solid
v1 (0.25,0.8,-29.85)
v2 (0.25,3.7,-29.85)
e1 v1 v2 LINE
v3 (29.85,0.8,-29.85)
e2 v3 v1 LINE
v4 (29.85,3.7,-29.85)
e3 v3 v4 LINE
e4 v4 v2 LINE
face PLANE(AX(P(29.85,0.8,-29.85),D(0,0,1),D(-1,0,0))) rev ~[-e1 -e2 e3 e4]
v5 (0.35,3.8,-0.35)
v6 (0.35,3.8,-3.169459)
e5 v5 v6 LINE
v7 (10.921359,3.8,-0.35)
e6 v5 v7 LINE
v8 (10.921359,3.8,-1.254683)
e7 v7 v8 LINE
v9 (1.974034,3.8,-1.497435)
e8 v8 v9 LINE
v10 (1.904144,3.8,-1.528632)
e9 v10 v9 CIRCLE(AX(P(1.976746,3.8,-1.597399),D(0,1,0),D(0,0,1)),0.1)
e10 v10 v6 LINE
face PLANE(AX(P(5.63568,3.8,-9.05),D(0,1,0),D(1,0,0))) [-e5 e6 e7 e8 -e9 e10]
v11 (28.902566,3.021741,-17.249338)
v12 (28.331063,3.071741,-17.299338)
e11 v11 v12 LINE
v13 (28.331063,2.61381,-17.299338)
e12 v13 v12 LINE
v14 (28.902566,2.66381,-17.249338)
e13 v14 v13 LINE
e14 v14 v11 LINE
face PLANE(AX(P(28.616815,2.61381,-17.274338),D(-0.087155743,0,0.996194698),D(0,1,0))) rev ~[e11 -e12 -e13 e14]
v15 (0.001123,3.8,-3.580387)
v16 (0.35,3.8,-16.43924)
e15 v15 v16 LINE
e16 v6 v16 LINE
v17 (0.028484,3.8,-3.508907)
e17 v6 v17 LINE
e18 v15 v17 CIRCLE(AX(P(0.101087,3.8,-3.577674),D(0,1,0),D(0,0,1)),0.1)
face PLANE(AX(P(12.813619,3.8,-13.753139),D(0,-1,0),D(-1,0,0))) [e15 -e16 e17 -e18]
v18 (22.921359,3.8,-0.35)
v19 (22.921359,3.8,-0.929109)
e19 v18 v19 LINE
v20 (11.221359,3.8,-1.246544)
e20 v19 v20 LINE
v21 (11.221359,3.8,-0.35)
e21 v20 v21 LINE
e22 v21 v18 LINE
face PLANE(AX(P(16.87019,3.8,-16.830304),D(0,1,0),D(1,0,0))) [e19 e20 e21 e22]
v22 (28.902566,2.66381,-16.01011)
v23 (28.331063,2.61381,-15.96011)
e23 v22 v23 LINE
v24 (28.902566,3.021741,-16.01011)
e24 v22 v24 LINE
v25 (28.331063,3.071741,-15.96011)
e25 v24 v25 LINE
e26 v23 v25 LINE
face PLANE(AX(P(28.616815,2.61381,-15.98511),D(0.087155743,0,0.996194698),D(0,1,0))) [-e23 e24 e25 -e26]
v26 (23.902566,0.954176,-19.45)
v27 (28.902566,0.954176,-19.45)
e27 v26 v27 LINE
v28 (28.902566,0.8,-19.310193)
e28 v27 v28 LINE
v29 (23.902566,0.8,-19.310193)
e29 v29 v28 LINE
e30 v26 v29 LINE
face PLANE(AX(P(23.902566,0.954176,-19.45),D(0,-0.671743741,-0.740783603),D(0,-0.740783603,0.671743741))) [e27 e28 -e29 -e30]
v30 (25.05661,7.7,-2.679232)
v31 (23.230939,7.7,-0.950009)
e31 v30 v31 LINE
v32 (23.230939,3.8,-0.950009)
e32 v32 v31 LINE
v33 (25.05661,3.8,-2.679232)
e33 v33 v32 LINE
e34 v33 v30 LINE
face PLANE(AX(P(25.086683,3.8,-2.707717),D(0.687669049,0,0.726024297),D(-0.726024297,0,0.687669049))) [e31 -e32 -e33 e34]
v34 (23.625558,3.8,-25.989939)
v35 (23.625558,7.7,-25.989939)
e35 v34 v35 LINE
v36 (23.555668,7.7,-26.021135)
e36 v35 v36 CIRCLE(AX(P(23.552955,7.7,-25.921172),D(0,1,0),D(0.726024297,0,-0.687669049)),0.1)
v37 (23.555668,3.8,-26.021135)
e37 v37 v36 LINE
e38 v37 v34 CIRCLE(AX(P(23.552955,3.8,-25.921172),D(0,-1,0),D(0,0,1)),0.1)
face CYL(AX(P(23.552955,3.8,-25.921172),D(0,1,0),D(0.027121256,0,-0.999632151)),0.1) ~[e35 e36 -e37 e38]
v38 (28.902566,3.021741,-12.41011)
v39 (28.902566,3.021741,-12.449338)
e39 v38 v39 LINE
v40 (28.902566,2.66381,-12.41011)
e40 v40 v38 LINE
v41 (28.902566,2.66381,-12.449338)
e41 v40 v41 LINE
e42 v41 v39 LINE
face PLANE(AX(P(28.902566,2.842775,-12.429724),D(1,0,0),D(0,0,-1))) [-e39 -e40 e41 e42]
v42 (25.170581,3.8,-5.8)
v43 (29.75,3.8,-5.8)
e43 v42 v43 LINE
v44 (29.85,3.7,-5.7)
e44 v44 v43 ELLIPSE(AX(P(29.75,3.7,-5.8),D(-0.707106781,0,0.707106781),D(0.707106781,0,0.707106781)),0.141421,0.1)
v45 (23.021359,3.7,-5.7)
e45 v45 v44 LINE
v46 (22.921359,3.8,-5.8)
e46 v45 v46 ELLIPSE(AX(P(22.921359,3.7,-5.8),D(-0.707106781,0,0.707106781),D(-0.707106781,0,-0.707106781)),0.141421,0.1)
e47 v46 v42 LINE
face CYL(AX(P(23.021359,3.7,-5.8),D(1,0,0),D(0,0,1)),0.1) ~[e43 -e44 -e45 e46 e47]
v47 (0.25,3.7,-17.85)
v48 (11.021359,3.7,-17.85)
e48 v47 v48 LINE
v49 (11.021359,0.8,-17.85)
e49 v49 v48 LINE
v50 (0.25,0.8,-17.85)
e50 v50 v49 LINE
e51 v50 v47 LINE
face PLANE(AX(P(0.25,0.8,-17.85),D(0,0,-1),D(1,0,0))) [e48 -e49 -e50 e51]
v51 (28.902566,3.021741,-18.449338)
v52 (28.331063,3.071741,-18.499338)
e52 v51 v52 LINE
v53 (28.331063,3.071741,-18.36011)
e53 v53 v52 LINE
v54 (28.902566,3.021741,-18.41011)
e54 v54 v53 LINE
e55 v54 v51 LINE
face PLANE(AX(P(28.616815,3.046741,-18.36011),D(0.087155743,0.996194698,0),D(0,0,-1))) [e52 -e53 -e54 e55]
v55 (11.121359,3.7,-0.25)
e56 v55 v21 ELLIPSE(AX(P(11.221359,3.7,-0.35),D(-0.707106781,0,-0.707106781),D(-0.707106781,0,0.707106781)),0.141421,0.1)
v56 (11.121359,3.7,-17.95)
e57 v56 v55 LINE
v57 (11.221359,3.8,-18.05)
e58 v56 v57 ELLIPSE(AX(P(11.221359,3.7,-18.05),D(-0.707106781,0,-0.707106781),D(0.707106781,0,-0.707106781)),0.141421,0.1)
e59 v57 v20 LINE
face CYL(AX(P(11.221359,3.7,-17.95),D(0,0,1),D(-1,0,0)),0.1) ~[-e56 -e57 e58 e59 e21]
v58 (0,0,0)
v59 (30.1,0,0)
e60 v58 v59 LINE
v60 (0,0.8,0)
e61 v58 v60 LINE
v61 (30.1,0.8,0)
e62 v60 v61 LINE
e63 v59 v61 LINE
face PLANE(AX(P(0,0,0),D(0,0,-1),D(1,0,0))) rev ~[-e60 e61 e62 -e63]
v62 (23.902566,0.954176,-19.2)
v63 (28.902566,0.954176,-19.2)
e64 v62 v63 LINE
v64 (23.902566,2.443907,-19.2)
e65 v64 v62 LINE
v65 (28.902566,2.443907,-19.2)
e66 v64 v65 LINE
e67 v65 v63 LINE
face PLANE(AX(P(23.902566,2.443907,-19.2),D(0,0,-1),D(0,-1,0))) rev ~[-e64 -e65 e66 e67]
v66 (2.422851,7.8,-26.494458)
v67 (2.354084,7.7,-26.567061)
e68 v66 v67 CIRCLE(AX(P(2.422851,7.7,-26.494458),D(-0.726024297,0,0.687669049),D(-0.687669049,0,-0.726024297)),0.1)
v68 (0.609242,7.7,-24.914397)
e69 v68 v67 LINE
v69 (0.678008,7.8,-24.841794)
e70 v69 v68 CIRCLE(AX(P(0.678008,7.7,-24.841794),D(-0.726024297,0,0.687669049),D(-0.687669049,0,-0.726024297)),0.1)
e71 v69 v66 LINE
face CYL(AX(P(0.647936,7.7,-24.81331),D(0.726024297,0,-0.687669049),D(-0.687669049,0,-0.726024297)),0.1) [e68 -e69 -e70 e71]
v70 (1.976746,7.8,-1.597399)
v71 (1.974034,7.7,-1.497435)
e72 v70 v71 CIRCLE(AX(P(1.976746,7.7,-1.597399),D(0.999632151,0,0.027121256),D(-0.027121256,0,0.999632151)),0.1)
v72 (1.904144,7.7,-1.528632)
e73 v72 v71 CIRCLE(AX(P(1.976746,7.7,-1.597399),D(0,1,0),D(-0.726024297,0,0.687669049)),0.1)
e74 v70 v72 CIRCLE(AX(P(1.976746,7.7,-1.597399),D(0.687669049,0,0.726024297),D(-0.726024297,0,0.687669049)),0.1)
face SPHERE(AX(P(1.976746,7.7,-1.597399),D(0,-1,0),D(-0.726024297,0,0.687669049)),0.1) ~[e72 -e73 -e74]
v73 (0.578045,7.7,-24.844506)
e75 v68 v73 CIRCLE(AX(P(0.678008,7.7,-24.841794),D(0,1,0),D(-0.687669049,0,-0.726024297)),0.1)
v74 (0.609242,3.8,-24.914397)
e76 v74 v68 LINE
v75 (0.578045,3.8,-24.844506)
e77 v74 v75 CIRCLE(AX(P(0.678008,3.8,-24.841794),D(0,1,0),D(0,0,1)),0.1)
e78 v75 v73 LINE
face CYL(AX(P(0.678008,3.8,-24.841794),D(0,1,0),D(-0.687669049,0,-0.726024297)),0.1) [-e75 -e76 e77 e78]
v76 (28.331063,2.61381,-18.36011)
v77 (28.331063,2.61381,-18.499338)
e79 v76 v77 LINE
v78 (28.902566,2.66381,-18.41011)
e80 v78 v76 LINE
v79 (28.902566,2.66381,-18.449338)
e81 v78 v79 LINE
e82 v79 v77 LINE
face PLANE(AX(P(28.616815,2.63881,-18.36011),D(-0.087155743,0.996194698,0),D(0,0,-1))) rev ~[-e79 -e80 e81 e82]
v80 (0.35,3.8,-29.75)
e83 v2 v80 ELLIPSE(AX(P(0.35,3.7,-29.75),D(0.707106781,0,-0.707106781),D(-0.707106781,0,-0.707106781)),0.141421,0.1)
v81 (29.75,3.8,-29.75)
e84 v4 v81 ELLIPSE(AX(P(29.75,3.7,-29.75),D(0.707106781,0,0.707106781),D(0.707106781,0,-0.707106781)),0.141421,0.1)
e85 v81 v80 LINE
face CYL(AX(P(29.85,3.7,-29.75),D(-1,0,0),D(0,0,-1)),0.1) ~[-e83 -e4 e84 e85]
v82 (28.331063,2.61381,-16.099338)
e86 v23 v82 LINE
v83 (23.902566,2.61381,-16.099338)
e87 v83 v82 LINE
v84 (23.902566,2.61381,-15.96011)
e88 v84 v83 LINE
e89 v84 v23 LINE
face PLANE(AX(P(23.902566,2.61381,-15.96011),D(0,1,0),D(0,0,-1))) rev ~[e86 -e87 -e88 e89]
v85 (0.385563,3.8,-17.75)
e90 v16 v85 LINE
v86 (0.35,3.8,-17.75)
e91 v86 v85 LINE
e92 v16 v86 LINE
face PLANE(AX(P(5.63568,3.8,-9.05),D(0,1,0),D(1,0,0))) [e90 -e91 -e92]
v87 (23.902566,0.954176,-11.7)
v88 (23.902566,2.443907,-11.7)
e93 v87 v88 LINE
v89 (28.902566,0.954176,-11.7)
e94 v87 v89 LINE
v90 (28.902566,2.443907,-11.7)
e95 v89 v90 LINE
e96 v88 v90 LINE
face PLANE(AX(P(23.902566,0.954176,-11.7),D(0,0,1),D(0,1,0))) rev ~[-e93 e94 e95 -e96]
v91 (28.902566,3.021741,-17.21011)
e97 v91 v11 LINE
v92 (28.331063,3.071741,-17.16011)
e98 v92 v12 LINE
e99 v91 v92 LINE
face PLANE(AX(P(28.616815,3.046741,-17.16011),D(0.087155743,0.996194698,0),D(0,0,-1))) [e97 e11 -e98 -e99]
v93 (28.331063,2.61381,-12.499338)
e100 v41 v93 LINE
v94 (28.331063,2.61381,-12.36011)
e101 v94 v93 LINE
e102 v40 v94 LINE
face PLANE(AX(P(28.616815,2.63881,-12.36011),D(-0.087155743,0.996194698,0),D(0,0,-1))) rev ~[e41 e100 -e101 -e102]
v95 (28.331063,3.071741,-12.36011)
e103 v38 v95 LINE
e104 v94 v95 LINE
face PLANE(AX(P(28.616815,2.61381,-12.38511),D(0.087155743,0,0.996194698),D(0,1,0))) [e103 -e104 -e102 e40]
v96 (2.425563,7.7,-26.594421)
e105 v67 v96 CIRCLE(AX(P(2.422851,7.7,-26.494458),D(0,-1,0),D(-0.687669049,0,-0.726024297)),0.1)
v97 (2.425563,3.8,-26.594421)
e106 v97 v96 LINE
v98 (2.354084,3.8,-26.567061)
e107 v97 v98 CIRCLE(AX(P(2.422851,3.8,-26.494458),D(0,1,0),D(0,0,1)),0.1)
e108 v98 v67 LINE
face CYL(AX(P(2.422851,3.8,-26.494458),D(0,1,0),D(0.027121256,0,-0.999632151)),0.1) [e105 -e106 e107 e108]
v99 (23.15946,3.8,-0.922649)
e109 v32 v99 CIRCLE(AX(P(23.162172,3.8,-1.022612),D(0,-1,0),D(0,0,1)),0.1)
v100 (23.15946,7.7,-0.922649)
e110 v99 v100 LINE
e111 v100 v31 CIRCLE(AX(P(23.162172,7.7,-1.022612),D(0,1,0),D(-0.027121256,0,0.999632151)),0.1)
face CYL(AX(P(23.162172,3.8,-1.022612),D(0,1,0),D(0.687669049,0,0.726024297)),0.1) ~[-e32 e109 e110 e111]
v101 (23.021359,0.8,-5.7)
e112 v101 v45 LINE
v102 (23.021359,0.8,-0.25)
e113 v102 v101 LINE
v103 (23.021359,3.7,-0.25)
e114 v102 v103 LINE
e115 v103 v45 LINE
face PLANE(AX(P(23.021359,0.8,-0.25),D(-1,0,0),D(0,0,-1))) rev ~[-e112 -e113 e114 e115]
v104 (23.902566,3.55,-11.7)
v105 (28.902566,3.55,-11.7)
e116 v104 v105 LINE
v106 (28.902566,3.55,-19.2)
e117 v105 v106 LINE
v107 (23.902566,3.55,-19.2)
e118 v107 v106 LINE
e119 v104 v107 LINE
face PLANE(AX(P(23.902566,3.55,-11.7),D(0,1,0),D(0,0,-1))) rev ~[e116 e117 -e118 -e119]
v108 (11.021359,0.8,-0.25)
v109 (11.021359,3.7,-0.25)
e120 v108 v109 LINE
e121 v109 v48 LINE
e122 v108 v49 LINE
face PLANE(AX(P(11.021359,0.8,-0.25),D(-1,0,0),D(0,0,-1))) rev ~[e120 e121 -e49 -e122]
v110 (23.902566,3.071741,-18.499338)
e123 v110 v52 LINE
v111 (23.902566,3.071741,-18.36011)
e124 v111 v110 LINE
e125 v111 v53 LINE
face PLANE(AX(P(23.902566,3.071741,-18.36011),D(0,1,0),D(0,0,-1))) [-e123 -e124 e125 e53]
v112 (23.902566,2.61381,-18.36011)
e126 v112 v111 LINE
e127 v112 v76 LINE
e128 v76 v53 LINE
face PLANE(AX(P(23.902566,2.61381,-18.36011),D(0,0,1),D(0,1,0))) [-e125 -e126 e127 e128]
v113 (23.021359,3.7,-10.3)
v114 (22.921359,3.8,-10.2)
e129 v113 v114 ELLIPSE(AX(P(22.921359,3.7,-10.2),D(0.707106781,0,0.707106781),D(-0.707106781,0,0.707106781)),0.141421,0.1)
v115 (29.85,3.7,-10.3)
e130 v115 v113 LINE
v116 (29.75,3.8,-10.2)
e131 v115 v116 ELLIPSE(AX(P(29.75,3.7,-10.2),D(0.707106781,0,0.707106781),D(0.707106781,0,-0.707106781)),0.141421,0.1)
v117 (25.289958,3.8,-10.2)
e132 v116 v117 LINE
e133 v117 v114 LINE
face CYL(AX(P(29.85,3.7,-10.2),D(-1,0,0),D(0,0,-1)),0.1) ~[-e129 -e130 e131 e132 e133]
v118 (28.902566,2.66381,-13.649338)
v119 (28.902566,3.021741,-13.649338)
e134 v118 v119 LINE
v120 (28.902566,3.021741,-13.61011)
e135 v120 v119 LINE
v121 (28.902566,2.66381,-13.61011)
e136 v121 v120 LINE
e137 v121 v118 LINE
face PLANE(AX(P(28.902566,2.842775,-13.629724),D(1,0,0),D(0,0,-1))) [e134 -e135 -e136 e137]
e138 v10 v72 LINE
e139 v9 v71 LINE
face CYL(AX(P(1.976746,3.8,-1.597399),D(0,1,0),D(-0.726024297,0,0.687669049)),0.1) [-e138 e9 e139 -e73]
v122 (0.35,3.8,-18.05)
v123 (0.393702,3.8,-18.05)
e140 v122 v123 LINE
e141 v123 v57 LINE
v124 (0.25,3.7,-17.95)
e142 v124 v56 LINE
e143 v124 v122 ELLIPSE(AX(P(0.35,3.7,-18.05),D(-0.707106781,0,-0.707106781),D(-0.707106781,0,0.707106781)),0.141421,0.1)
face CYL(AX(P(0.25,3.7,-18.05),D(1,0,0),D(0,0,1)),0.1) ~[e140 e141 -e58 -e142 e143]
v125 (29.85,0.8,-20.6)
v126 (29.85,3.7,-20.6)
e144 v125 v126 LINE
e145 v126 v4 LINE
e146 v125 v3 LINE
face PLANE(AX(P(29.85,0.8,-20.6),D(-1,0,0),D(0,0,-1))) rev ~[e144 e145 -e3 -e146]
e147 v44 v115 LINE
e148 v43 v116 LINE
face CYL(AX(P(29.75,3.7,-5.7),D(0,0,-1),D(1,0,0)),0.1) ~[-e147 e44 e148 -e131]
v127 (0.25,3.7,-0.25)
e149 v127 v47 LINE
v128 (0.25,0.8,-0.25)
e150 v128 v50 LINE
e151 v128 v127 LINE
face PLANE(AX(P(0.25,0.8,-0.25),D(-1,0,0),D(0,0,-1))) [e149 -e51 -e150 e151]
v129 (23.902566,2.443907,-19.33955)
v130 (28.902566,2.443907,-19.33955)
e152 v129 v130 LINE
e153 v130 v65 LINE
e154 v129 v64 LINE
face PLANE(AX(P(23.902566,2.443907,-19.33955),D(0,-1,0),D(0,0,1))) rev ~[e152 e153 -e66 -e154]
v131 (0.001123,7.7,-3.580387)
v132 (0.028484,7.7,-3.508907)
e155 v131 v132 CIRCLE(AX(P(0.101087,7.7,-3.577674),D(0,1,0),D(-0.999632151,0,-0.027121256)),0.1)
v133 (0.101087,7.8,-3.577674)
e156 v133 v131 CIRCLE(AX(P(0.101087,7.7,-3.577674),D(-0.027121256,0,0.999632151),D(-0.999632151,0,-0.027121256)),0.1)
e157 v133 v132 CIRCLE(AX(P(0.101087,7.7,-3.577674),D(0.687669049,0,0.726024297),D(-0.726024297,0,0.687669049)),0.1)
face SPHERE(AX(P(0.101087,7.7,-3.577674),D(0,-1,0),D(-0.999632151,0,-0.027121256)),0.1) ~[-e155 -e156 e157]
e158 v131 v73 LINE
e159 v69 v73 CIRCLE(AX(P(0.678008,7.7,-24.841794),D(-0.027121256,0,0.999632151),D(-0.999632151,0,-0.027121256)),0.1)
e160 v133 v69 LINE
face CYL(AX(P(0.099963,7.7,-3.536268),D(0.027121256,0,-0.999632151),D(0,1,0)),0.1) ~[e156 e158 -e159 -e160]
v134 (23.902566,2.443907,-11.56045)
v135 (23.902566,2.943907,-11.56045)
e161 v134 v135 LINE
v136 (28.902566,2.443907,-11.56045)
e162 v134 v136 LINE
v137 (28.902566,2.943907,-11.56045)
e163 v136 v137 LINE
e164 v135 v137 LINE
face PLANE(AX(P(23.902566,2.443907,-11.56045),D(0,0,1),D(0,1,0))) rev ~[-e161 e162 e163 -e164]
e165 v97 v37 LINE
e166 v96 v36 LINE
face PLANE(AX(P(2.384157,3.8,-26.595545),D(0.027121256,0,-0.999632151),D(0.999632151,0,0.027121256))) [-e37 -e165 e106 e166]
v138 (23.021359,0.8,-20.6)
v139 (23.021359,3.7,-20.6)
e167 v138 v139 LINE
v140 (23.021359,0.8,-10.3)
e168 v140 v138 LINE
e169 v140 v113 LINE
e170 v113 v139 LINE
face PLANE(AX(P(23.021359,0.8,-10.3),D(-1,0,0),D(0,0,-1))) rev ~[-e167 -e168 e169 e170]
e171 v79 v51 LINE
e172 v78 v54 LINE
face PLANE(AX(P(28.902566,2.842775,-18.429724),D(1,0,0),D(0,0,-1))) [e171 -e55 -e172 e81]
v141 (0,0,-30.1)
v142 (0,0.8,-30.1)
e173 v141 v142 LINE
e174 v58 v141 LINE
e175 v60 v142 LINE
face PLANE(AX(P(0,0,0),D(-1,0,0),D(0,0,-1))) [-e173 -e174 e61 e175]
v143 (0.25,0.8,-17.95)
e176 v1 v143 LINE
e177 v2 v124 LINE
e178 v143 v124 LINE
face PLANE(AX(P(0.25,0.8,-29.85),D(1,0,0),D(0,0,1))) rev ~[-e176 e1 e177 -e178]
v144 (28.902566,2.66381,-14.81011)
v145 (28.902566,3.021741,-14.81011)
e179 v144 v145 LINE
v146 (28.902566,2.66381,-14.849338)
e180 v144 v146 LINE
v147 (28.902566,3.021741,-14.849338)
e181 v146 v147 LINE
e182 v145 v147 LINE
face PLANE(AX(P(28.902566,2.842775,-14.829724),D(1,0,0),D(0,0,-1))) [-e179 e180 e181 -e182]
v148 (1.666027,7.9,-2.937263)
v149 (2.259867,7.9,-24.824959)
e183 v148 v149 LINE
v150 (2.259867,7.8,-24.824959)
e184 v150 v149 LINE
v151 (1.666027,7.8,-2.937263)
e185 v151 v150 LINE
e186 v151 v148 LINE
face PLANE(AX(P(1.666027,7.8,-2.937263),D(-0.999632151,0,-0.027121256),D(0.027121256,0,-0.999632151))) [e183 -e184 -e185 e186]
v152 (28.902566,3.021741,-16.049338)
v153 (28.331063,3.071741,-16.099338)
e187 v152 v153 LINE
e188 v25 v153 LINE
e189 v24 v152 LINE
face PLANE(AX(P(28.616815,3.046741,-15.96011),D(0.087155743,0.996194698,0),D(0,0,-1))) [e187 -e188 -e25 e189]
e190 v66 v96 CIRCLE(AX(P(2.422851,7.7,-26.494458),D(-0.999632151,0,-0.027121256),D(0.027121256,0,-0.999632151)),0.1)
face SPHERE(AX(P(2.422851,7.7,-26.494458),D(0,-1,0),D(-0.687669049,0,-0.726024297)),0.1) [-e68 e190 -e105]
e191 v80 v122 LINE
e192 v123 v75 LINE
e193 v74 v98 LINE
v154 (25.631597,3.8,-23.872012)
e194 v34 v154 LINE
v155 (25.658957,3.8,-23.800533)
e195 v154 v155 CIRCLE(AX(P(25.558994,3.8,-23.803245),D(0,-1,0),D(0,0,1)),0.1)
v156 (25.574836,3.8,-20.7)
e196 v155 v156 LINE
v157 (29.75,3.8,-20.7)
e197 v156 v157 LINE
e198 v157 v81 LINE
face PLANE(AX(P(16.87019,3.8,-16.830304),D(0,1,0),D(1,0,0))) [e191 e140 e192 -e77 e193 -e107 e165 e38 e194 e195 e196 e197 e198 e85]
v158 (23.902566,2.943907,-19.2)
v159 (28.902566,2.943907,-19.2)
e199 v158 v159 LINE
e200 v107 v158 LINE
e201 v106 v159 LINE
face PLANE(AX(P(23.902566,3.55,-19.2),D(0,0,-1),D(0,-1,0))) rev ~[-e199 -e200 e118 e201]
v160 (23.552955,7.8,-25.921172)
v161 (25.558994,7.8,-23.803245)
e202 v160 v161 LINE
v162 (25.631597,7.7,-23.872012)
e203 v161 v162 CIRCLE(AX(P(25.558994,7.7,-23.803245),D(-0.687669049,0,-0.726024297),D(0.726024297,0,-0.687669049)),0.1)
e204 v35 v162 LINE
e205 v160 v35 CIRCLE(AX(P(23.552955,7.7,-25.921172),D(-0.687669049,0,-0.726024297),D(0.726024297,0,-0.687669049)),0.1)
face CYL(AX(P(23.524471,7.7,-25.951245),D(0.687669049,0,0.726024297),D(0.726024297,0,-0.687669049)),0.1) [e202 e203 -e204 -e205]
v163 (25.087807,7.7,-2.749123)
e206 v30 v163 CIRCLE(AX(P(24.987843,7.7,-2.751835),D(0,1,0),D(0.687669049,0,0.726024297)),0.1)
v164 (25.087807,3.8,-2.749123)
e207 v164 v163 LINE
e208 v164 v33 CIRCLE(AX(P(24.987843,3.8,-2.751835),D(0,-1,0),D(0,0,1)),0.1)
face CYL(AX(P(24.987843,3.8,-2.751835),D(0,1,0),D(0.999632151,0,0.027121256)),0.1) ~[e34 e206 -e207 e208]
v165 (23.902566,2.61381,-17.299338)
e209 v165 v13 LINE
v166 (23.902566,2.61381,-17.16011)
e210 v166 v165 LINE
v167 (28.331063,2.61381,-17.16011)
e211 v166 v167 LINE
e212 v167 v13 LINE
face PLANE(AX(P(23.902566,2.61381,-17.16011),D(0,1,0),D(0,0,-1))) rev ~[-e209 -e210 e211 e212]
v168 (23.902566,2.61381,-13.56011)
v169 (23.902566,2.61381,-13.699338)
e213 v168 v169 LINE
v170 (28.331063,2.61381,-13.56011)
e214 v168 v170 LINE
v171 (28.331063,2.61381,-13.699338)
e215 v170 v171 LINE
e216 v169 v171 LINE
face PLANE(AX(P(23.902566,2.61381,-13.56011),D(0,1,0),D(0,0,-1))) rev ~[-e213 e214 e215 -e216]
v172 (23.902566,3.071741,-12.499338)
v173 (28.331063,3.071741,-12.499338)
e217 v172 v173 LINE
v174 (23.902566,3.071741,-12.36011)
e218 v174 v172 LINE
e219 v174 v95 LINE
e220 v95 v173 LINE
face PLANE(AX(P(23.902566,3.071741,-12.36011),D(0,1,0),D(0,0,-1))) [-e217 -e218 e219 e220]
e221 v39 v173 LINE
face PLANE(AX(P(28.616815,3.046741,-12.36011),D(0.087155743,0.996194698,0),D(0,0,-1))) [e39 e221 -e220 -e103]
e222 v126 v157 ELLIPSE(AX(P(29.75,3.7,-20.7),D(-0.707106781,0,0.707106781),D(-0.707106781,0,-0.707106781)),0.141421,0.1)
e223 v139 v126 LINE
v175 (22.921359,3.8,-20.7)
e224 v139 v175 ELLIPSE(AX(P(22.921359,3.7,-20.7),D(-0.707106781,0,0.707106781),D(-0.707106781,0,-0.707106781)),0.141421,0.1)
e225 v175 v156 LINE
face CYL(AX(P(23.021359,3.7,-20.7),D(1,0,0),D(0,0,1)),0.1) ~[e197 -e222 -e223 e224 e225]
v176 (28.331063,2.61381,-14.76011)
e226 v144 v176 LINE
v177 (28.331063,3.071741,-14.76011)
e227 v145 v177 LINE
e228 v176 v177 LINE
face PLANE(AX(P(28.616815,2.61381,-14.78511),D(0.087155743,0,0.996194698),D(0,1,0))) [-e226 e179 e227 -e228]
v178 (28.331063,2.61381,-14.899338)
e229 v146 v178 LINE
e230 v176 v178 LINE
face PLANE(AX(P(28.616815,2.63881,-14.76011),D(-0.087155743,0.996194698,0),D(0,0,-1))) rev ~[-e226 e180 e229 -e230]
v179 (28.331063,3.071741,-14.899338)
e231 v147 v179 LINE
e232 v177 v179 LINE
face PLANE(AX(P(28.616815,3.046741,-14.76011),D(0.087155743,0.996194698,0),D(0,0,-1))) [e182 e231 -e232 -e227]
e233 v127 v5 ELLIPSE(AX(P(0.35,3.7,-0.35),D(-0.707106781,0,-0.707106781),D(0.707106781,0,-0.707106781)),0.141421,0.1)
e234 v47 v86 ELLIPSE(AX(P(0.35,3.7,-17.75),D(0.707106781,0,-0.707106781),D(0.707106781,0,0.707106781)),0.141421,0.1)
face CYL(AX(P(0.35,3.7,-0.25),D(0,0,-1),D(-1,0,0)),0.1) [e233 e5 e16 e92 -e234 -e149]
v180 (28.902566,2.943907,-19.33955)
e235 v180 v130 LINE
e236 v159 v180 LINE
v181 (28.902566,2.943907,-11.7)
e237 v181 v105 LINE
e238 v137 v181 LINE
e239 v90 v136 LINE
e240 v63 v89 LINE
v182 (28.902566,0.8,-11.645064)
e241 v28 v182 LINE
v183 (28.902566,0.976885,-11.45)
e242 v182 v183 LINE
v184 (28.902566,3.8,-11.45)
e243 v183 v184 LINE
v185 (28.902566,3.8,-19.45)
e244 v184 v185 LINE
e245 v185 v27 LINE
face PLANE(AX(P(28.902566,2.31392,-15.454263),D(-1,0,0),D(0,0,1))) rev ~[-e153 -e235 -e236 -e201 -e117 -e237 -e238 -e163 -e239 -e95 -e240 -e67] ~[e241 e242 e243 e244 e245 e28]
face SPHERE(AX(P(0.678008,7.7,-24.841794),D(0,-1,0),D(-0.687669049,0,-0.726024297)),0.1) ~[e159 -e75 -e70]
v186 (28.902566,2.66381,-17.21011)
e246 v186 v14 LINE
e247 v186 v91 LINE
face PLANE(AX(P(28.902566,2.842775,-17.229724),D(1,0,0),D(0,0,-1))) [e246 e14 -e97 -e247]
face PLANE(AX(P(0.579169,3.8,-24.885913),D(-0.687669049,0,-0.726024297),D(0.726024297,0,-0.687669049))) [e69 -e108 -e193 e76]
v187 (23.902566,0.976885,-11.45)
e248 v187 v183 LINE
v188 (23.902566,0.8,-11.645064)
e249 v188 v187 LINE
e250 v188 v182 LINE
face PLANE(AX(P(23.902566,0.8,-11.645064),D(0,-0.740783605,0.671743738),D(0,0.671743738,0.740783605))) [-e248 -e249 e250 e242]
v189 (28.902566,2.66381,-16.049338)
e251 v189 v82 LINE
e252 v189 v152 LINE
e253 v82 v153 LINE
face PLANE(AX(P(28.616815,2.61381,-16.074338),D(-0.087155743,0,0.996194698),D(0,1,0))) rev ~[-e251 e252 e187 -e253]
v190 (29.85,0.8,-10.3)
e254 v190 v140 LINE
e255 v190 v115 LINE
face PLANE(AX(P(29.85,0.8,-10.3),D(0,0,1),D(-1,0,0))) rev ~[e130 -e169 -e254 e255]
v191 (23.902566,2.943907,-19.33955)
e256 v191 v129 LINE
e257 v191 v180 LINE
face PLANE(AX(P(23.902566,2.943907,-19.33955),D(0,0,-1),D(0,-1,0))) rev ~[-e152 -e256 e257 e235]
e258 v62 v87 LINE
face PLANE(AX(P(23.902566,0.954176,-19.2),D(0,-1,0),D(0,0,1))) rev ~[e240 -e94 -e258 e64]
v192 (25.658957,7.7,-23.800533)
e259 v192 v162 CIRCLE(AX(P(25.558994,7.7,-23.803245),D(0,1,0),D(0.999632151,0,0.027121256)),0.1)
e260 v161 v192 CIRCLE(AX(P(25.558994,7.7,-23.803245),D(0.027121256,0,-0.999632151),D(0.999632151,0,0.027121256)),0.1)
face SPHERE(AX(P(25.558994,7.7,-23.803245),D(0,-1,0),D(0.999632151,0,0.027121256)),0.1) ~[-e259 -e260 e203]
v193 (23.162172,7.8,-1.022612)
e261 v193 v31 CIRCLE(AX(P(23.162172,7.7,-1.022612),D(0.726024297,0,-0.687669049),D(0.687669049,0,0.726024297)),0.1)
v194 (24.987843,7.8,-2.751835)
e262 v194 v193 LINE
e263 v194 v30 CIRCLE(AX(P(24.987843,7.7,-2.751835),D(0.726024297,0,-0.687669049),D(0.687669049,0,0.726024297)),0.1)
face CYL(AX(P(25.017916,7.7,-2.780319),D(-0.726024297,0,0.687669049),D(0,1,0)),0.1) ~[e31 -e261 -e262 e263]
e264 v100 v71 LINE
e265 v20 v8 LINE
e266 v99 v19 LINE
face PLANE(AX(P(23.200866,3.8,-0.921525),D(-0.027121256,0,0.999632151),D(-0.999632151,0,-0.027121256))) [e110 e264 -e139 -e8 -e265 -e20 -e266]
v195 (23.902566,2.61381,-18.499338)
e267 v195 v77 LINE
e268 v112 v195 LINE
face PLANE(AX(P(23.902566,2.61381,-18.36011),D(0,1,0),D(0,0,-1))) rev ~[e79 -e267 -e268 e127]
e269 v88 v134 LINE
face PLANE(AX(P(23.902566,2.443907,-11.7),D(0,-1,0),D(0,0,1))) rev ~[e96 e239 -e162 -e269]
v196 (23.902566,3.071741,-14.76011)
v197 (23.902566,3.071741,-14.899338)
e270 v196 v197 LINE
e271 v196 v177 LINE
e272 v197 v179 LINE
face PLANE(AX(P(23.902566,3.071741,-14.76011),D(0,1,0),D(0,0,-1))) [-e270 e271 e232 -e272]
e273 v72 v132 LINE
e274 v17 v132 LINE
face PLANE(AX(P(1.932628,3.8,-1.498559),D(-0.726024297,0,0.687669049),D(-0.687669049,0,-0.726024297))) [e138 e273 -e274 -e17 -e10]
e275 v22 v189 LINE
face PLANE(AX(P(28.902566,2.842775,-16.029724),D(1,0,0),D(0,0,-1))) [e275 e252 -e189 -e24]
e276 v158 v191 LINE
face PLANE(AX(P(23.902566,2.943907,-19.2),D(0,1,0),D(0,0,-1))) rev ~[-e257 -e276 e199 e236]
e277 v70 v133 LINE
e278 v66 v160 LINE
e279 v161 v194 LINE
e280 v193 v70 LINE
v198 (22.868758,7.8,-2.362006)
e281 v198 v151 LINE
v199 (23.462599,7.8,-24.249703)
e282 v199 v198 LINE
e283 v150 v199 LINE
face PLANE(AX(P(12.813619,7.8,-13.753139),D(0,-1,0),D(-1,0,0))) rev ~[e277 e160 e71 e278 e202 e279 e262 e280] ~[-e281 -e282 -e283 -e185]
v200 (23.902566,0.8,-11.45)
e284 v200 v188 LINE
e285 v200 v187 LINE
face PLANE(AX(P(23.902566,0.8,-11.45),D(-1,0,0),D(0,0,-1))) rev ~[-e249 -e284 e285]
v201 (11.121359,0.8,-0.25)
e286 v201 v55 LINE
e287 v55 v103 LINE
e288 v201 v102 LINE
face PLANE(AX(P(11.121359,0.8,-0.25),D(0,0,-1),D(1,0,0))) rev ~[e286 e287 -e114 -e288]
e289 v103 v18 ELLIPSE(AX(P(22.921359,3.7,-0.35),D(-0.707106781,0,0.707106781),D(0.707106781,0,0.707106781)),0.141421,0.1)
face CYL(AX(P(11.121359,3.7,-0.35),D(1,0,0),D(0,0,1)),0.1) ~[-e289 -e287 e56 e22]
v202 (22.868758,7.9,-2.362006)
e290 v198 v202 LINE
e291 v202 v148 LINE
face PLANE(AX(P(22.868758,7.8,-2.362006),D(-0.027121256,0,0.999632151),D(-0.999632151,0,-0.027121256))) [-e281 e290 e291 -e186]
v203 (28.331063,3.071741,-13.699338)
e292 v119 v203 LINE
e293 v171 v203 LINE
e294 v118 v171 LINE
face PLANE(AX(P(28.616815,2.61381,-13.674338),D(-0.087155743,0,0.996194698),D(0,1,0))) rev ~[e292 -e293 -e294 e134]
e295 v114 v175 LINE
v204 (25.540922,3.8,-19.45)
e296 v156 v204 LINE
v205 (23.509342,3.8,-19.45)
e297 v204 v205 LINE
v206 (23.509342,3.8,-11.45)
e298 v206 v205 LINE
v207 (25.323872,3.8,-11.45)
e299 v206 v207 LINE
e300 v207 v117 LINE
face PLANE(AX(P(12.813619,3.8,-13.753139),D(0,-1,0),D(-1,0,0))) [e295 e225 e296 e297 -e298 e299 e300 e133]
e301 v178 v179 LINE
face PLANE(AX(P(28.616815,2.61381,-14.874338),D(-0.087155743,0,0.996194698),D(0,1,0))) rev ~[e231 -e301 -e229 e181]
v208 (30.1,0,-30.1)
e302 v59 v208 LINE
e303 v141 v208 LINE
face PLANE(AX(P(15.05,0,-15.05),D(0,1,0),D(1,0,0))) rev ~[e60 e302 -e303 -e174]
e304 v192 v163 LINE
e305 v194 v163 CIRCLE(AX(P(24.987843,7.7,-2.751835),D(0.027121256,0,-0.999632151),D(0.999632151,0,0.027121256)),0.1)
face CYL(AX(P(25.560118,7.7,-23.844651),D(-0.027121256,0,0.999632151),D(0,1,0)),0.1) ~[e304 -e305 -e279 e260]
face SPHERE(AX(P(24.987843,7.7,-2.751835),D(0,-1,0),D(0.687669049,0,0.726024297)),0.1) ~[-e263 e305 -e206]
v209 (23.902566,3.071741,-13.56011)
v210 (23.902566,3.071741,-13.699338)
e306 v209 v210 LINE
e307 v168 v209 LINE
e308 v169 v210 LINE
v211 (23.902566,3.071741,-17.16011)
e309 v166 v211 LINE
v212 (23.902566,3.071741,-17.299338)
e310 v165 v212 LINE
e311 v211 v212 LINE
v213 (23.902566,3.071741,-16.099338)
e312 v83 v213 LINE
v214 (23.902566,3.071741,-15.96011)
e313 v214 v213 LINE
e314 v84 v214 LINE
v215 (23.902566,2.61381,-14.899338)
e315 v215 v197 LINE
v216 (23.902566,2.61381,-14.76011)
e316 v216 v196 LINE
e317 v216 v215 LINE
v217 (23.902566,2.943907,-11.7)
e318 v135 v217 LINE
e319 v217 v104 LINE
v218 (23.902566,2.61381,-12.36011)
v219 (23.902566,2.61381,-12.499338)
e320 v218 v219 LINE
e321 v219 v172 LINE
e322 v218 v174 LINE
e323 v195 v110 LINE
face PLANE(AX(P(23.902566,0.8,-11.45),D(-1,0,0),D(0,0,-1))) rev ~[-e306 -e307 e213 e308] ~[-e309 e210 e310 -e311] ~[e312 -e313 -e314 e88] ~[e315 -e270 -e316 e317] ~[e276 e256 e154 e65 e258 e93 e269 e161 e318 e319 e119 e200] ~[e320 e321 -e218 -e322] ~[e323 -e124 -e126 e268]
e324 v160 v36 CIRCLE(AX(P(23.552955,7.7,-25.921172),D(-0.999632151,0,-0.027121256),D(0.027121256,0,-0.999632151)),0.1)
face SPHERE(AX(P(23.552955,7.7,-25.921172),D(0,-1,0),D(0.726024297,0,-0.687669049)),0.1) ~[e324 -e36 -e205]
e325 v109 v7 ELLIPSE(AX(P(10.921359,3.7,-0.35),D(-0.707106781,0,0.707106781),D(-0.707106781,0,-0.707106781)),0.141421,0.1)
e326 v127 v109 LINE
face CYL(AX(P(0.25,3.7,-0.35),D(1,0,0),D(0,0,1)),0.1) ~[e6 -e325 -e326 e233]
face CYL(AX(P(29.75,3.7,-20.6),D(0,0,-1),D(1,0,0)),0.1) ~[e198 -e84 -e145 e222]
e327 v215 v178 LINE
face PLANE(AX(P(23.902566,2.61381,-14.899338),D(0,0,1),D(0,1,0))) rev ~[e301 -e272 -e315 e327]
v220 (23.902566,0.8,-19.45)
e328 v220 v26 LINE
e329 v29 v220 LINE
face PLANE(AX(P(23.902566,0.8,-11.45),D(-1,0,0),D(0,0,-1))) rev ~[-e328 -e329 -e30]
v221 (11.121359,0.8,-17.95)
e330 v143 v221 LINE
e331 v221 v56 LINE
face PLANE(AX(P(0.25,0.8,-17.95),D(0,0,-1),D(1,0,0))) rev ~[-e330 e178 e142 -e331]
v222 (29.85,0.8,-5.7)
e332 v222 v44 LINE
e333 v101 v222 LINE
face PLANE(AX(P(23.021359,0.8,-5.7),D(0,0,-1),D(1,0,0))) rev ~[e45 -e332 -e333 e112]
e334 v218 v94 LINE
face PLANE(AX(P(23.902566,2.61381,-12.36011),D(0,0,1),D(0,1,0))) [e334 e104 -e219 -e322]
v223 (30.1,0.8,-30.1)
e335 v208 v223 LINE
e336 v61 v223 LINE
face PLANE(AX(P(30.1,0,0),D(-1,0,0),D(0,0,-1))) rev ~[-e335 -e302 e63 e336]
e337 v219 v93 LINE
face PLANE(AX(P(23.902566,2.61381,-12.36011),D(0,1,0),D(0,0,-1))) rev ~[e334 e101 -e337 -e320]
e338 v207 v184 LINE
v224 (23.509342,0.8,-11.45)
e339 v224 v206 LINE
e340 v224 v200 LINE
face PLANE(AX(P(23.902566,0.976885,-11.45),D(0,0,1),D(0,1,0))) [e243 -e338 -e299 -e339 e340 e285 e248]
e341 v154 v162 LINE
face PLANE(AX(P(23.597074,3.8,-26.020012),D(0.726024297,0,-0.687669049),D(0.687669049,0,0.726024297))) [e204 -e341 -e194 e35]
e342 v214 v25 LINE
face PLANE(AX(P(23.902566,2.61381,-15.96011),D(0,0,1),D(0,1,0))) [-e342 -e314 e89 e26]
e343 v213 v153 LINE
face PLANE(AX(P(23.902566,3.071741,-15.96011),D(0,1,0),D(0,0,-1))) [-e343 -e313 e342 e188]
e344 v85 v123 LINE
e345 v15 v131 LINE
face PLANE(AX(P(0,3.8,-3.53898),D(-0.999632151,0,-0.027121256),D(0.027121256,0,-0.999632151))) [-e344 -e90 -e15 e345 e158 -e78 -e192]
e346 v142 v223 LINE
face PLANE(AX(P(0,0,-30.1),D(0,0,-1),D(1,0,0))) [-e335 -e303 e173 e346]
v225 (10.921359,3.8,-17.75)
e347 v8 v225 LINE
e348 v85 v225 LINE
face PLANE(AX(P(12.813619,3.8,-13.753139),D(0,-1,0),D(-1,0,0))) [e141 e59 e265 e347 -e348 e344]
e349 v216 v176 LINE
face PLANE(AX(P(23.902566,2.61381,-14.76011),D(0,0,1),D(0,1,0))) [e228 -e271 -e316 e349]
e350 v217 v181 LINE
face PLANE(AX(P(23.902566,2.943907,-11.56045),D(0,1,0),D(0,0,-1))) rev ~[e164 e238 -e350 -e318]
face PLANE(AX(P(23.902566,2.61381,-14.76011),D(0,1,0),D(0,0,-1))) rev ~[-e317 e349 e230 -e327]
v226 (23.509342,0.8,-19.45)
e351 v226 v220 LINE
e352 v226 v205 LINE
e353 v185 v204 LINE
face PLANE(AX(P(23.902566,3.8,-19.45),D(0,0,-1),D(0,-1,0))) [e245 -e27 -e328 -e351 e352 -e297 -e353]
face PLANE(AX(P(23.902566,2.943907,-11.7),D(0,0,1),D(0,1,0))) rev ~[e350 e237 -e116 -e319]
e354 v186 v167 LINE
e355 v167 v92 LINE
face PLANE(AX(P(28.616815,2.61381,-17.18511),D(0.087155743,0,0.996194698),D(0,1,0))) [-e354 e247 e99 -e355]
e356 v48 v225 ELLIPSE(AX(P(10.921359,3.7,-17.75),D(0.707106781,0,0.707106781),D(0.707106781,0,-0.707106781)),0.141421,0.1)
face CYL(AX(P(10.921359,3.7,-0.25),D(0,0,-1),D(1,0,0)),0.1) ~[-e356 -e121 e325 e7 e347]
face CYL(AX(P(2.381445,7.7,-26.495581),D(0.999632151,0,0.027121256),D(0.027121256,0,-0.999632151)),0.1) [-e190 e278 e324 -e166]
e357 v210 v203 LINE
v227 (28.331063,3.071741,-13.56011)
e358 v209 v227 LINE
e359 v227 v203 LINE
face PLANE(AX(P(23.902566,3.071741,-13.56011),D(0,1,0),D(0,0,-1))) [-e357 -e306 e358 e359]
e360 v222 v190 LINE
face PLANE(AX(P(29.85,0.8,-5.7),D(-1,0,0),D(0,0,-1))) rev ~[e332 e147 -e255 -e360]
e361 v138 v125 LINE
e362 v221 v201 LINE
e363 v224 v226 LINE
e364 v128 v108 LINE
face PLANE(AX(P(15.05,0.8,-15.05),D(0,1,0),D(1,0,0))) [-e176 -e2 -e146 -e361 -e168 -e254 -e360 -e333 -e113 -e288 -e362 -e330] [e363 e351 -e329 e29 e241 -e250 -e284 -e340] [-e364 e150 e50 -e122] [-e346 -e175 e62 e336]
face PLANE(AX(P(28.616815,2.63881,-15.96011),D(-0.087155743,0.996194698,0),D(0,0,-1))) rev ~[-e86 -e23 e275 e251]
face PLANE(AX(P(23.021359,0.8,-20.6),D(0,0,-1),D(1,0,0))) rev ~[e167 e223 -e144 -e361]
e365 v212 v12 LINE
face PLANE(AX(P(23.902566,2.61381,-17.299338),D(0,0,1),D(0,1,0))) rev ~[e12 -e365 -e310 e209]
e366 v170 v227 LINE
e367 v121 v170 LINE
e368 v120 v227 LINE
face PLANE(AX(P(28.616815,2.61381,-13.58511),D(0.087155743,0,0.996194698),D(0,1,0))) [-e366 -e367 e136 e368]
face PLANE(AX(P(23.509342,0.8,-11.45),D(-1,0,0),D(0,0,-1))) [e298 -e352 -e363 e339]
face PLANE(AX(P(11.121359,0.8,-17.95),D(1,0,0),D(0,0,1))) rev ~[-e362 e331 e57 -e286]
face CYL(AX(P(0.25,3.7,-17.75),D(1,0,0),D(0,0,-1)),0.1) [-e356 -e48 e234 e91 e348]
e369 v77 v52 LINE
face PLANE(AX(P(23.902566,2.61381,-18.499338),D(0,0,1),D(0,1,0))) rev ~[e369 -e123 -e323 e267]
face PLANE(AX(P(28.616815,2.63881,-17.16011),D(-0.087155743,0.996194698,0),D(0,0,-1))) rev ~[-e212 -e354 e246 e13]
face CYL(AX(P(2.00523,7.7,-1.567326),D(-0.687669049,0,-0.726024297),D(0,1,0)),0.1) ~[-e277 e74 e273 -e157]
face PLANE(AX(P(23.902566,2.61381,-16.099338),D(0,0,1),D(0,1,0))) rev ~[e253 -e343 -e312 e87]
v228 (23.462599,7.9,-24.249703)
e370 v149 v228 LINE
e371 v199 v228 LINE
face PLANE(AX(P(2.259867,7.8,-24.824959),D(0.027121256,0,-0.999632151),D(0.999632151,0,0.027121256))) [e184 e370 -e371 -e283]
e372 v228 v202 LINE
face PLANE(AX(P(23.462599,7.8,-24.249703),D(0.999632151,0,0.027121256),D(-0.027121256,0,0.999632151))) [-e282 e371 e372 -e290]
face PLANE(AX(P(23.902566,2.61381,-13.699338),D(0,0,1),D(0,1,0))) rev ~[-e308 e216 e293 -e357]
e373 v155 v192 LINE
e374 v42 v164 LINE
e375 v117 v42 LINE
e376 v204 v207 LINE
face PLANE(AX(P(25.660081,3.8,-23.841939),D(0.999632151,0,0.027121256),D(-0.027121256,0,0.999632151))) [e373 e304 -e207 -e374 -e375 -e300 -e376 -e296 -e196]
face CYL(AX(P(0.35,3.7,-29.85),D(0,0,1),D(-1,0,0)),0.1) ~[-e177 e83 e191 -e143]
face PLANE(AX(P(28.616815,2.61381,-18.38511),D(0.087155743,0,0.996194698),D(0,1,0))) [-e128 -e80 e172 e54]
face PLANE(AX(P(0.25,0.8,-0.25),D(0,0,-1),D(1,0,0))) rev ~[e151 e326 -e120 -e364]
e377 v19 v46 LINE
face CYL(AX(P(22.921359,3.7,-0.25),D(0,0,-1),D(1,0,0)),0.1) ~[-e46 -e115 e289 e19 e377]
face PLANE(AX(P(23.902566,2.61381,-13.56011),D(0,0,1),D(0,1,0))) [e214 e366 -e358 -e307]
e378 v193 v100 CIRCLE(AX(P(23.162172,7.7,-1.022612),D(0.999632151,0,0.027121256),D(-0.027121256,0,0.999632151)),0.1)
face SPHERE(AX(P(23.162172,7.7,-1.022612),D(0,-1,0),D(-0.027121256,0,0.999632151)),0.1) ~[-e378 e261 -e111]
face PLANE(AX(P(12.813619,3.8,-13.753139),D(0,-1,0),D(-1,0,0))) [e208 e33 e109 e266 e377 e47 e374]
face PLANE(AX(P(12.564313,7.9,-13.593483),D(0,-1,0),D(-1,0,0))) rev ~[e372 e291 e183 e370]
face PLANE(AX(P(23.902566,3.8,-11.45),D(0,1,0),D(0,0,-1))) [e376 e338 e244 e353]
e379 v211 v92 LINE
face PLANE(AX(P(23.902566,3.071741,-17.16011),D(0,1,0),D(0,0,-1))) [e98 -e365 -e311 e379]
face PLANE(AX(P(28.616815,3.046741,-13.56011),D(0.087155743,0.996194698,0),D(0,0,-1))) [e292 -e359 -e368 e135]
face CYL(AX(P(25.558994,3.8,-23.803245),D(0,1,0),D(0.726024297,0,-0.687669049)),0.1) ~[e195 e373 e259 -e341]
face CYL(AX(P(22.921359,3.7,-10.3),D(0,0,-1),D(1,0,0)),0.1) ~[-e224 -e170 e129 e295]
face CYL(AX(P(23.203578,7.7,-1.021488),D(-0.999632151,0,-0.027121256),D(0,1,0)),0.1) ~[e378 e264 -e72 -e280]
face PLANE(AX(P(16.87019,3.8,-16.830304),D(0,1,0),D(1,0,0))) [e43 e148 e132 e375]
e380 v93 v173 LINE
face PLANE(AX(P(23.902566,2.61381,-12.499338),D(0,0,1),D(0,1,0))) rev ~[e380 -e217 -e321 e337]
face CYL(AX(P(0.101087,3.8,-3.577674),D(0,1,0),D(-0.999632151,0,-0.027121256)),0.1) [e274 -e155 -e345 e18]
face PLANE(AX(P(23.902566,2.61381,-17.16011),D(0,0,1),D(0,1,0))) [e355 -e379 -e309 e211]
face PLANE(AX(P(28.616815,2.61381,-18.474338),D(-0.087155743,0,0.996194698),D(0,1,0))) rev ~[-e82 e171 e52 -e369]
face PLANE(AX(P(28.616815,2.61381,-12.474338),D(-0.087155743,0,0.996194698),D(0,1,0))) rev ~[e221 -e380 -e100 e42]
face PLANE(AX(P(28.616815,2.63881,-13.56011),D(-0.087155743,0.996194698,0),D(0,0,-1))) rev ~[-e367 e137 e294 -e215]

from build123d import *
from OCP.BRepFilletAPI import BRepFilletAPI_MakeChamfer

# Parameters (mm, degrees)
SKETCH1_W           = 30.1
SKETCH1_H           = 30.1
BOSS_EXTRUDE1_DEPTH = 0.8
SKETCH2_W           = 10.771359077
SKETCH2_H           = 17.6
BOSS_EXTRUDE2_DEPTH = 3
FILLET1_R           = 0.1
SKETCH3_W           = 0.393223552
SKETCH3_H           = 8
BOSS_EXTRUDE3_DEPTH = 3
BOSS_EXTRUDE4_DEPTH = 5
SKETCH5_W           = 0.139227725
SKETCH5_H           = 0.457931022
BOSS_EXTRUDE5_DEPTH = 5
CHAMFER1_SIZE       = 0.05
CHAMFER1_SIZE2      = 0.571502615
BOSS_EXTRUDE6_DEPTH = 4
BOSS_EXTRUDE7_DEPTH = 0.1
FILLET2_R           = 0.1


with BuildPart() as part:
    # Sketch1 → Boss-Extrude1 (new body)
    with BuildSketch(Plane(origin=(0, 0, 0), x_dir=(1, 0, 0), z_dir=(0, 1, 0))):
        with Locations((15.05, 15.05)):
            Rectangle(SKETCH1_W, SKETCH1_H)
    extrude(amount=BOSS_EXTRUDE1_DEPTH)

    # Sketch2 → Boss-Extrude2 (add)
    with BuildSketch(Plane(origin=(0, 0.8, 0), x_dir=(1, 0, 0), z_dir=(0, 1, 0))):
        Polygon((29.85, 29.85), (0.25, 29.85), (0.25, 17.95), (11.121359077, 17.95), (11.121359077, 0.25), (23.021359077, 0.25), (23.021359077, 5.7), (29.85, 5.7), (29.85, 10.3), (23.021359077, 10.3), (23.021359077, 20.6), (29.85, 20.6), align=None)
        with Locations((5.635679539, 9.05)):
            Rectangle(SKETCH2_W, SKETCH2_H)
    extrude(amount=BOSS_EXTRUDE2_DEPTH)

    # Fillet1
    fillet1_edges = [part.edges().sort_by_distance(p)[0] for p in [
        (29.85, 3.8, -25.225),
        (15.05, 3.8, -29.85),
        (0.25, 3.8, -23.9),
        (5.685679539, 3.8, -17.95),
        (11.121359077, 3.8, -9.1),
        (17.071359077, 3.8, -0.25),
        (23.021359077, 3.8, -2.975),
        (26.435679539, 3.8, -5.7),
        (29.85, 3.8, -8),
        (26.435679539, 3.8, -10.3),
        (23.021359077, 3.8, -15.45),
        (26.435679539, 3.8, -20.6),
        (11.021359077, 3.8, -9.05),
        (5.635679539, 3.8, -17.85),
        (0.25, 3.8, -9.05),
        (5.635679539, 3.8, -0.25),
    ]]
    fillet(fillet1_edges, radius=FILLET1_R)

    # Sketch3 → Boss-Extrude3 (add)
    with BuildSketch(Plane(origin=(0, 0.8, 0), x_dir=(1, 0, 0), z_dir=(0, 1, 0))):
        with Locations((23.705954143, 15.45)):
            Rectangle(SKETCH3_W, SKETCH3_H)
    extrude(amount=BOSS_EXTRUDE3_DEPTH)

    # Sketch4 → Boss-Extrude4 (add)
    with BuildSketch(Plane(origin=(23.902565919, 0, 0), x_dir=(0, 0, -1), z_dir=(1, 0, 0))):
        Polygon((11.45, 3.8), (19.45, 3.8), (19.45, 0.954176152), (19.310192822, 0.8), (11.645064396, 0.8), (11.45, 0.976884701), align=None)
        Polygon((11.7, 3.55), (19.2, 3.55), (19.2, 2.943906616), (19.339550272, 2.943906616), (19.339550272, 2.443906616), (19.2, 2.443906616), (19.2, 0.954176152), (11.7, 0.954176152), (11.7, 2.443906616), (11.560449728, 2.443906616), (11.560449728, 2.943906616), (11.7, 2.943906616), align=None, mode=Mode.SUBTRACT)
    extrude(amount=BOSS_EXTRUDE4_DEPTH)

    # Sketch5 → Boss-Extrude5 (add)
    with BuildSketch(Plane(origin=(23.902565919, 0, 0), x_dir=(0, 0, -1), z_dir=(1, 0, 0))):
        with Locations((13.629724037, 2.842775415)):
            Rectangle(SKETCH5_W, SKETCH5_H)
        with Locations((12.429724037, 2.842775415)):
            Rectangle(SKETCH5_W, SKETCH5_H)
        with Locations((14.829724037, 2.842775415)):
            Rectangle(SKETCH5_W, SKETCH5_H)
        with Locations((16.029724036, 2.842775415)):
            Rectangle(SKETCH5_W, SKETCH5_H)
        with Locations((17.229724037, 2.842775415)):
            Rectangle(SKETCH5_W, SKETCH5_H)
        with Locations((18.429724037, 2.842775415)):
            Rectangle(SKETCH5_W, SKETCH5_H)
    extrude(amount=BOSS_EXTRUDE5_DEPTH)

    # Chamfer1: one chamfer whose edges measure the first distance from different faces: ONE call of the kernel's chamfer builder (chamfer() names one face for all edges)
    chamfer1_edges_1 = [part.edges().sort_by_distance(p)[0] for p in [
        (28.902565919, 2.842775415, -12.360110174),
        (28.902565919, 2.613809904, -12.429724036),
        (28.902565919, 2.842775415, -12.499337899),
        (28.902565919, 3.071740926, -12.429724036),
    ]]
    chamfer1_side_1 = [part.faces().sort_by_distance(p)[0] for p in [
        (28.902565919, 2.842775415, -12.429724036),
    ]]
    chamfer1_edges_2 = [part.edges().sort_by_distance(p)[0] for p in [
        (28.902565919, 2.842775415, -13.560110174),
        (28.902565919, 2.613809904, -13.629724036),
        (28.902565919, 2.842775415, -13.699337899),
        (28.902565919, 3.071740926, -13.629724036),
    ]]
    chamfer1_side_2 = [part.faces().sort_by_distance(p)[0] for p in [
        (28.902565919, 2.842775415, -13.629724036),
    ]]
    chamfer1_edges_3 = [part.edges().sort_by_distance(p)[0] for p in [
        (28.902565919, 2.842775415, -14.760110174),
        (28.902565919, 2.613809904, -14.829724036),
        (28.902565919, 2.842775415, -14.899337899),
        (28.902565919, 3.071740926, -14.829724036),
    ]]
    chamfer1_side_3 = [part.faces().sort_by_distance(p)[0] for p in [
        (28.902565919, 2.842775415, -14.829724036),
    ]]
    chamfer1_edges_4 = [part.edges().sort_by_distance(p)[0] for p in [
        (28.902565919, 2.842775415, -15.960110174),
        (28.902565919, 2.613809904, -16.029724036),
        (28.902565919, 2.842775415, -16.099337899),
        (28.902565919, 3.071740926, -16.029724036),
    ]]
    chamfer1_side_4 = [part.faces().sort_by_distance(p)[0] for p in [
        (28.902565919, 2.842775415, -16.029724036),
    ]]
    chamfer1_edges_5 = [part.edges().sort_by_distance(p)[0] for p in [
        (28.902565919, 2.842775415, -17.160110174),
        (28.902565919, 2.613809904, -17.229724036),
        (28.902565919, 2.842775415, -17.299337899),
        (28.902565919, 3.071740926, -17.229724036),
    ]]
    chamfer1_side_5 = [part.faces().sort_by_distance(p)[0] for p in [
        (28.902565919, 2.842775415, -17.229724036),
    ]]
    chamfer1_edges_6 = [part.edges().sort_by_distance(p)[0] for p in [
        (28.902565919, 2.842775415, -18.360110174),
        (28.902565919, 2.613809904, -18.429724036),
        (28.902565919, 2.842775415, -18.499337899),
        (28.902565919, 3.071740926, -18.429724036),
    ]]
    chamfer1_side_6 = [part.faces().sort_by_distance(p)[0] for p in [
        (28.902565919, 2.842775415, -18.429724036),
    ]]
    chamfer1 = BRepFilletAPI_MakeChamfer(part.part.solid().wrapped)
    for e in chamfer1_edges_1:
        chamfer1.Add(CHAMFER1_SIZE, CHAMFER1_SIZE2, e.wrapped, chamfer1_side_1[0].wrapped)  # the first distance lies on this face
    for e in chamfer1_edges_2:
        chamfer1.Add(CHAMFER1_SIZE, CHAMFER1_SIZE2, e.wrapped, chamfer1_side_2[0].wrapped)  # the first distance lies on this face
    for e in chamfer1_edges_3:
        chamfer1.Add(CHAMFER1_SIZE, CHAMFER1_SIZE2, e.wrapped, chamfer1_side_3[0].wrapped)  # the first distance lies on this face
    for e in chamfer1_edges_4:
        chamfer1.Add(CHAMFER1_SIZE, CHAMFER1_SIZE2, e.wrapped, chamfer1_side_4[0].wrapped)  # the first distance lies on this face
    for e in chamfer1_edges_5:
        chamfer1.Add(CHAMFER1_SIZE, CHAMFER1_SIZE2, e.wrapped, chamfer1_side_5[0].wrapped)  # the first distance lies on this face
    for e in chamfer1_edges_6:
        chamfer1.Add(CHAMFER1_SIZE, CHAMFER1_SIZE2, e.wrapped, chamfer1_side_6[0].wrapped)  # the first distance lies on this face
    add(Compound.cast(chamfer1.Shape()), mode=Mode.REPLACE)

    # Sketch6 → Boss-Extrude6 (add)
    with BuildSketch(Plane(origin=(0, 3.8, 0), x_dir=(1, 0, 0), z_dir=(0, 1, 0))):
        Polygon((2.384156778, 26.595544695), (23.597073632, 26.020012034), (25.660080778, 23.841939144), (25.08668319, 2.707716574), (23.200865717, 0.921525239), (1.93262783, 1.498558828), (0, 3.5389804), (0.579168662, 24.885912571), align=None)
    extrude(amount=BOSS_EXTRUDE6_DEPTH)

    # Sketch7 → Boss-Extrude7 (add)
    with BuildSketch(Plane(origin=(0, 7.8, 0), x_dir=(1, 0, 0), z_dir=(0, 1, 0))):
        Polygon((2.259866972, 24.824959048), (23.462598641, 24.249702724), (22.868758373, 2.362006201), (1.666026705, 2.937262525), align=None)
    extrude(amount=BOSS_EXTRUDE7_DEPTH)

    # Fillet2
    fillet2_edges = [part.edges().sort_by_distance(p)[0] for p in [
        (2.384156778, 5.8, -26.595544695),
        (0.579168662, 5.8, -24.885912571),
        (0, 5.8, -3.5389804),
        (1.93262783, 5.8, -1.498558828),
        (23.200865717, 5.8, -0.921525239),
        (25.08668319, 5.8, -2.707716574),
        (25.660080778, 5.8, -23.841939144),
        (23.597073632, 5.8, -26.020012034),
        (1.48166272, 7.8, -25.740728633),
        (0.289584331, 7.8, -14.212446486),
        (0.966313915, 7.8, -2.518769614),
        (12.566746773, 7.8, -1.210042034),
        (24.143774453, 7.8, -1.814620907),
        (25.373381984, 7.8, -13.274827859),
        (24.628577205, 7.8, -24.930975589),
        (12.990615205, 7.8, -26.307778365),
    ]]
    fillet(fillet2_edges, radius=FILLET2_R)


solid = part.part
